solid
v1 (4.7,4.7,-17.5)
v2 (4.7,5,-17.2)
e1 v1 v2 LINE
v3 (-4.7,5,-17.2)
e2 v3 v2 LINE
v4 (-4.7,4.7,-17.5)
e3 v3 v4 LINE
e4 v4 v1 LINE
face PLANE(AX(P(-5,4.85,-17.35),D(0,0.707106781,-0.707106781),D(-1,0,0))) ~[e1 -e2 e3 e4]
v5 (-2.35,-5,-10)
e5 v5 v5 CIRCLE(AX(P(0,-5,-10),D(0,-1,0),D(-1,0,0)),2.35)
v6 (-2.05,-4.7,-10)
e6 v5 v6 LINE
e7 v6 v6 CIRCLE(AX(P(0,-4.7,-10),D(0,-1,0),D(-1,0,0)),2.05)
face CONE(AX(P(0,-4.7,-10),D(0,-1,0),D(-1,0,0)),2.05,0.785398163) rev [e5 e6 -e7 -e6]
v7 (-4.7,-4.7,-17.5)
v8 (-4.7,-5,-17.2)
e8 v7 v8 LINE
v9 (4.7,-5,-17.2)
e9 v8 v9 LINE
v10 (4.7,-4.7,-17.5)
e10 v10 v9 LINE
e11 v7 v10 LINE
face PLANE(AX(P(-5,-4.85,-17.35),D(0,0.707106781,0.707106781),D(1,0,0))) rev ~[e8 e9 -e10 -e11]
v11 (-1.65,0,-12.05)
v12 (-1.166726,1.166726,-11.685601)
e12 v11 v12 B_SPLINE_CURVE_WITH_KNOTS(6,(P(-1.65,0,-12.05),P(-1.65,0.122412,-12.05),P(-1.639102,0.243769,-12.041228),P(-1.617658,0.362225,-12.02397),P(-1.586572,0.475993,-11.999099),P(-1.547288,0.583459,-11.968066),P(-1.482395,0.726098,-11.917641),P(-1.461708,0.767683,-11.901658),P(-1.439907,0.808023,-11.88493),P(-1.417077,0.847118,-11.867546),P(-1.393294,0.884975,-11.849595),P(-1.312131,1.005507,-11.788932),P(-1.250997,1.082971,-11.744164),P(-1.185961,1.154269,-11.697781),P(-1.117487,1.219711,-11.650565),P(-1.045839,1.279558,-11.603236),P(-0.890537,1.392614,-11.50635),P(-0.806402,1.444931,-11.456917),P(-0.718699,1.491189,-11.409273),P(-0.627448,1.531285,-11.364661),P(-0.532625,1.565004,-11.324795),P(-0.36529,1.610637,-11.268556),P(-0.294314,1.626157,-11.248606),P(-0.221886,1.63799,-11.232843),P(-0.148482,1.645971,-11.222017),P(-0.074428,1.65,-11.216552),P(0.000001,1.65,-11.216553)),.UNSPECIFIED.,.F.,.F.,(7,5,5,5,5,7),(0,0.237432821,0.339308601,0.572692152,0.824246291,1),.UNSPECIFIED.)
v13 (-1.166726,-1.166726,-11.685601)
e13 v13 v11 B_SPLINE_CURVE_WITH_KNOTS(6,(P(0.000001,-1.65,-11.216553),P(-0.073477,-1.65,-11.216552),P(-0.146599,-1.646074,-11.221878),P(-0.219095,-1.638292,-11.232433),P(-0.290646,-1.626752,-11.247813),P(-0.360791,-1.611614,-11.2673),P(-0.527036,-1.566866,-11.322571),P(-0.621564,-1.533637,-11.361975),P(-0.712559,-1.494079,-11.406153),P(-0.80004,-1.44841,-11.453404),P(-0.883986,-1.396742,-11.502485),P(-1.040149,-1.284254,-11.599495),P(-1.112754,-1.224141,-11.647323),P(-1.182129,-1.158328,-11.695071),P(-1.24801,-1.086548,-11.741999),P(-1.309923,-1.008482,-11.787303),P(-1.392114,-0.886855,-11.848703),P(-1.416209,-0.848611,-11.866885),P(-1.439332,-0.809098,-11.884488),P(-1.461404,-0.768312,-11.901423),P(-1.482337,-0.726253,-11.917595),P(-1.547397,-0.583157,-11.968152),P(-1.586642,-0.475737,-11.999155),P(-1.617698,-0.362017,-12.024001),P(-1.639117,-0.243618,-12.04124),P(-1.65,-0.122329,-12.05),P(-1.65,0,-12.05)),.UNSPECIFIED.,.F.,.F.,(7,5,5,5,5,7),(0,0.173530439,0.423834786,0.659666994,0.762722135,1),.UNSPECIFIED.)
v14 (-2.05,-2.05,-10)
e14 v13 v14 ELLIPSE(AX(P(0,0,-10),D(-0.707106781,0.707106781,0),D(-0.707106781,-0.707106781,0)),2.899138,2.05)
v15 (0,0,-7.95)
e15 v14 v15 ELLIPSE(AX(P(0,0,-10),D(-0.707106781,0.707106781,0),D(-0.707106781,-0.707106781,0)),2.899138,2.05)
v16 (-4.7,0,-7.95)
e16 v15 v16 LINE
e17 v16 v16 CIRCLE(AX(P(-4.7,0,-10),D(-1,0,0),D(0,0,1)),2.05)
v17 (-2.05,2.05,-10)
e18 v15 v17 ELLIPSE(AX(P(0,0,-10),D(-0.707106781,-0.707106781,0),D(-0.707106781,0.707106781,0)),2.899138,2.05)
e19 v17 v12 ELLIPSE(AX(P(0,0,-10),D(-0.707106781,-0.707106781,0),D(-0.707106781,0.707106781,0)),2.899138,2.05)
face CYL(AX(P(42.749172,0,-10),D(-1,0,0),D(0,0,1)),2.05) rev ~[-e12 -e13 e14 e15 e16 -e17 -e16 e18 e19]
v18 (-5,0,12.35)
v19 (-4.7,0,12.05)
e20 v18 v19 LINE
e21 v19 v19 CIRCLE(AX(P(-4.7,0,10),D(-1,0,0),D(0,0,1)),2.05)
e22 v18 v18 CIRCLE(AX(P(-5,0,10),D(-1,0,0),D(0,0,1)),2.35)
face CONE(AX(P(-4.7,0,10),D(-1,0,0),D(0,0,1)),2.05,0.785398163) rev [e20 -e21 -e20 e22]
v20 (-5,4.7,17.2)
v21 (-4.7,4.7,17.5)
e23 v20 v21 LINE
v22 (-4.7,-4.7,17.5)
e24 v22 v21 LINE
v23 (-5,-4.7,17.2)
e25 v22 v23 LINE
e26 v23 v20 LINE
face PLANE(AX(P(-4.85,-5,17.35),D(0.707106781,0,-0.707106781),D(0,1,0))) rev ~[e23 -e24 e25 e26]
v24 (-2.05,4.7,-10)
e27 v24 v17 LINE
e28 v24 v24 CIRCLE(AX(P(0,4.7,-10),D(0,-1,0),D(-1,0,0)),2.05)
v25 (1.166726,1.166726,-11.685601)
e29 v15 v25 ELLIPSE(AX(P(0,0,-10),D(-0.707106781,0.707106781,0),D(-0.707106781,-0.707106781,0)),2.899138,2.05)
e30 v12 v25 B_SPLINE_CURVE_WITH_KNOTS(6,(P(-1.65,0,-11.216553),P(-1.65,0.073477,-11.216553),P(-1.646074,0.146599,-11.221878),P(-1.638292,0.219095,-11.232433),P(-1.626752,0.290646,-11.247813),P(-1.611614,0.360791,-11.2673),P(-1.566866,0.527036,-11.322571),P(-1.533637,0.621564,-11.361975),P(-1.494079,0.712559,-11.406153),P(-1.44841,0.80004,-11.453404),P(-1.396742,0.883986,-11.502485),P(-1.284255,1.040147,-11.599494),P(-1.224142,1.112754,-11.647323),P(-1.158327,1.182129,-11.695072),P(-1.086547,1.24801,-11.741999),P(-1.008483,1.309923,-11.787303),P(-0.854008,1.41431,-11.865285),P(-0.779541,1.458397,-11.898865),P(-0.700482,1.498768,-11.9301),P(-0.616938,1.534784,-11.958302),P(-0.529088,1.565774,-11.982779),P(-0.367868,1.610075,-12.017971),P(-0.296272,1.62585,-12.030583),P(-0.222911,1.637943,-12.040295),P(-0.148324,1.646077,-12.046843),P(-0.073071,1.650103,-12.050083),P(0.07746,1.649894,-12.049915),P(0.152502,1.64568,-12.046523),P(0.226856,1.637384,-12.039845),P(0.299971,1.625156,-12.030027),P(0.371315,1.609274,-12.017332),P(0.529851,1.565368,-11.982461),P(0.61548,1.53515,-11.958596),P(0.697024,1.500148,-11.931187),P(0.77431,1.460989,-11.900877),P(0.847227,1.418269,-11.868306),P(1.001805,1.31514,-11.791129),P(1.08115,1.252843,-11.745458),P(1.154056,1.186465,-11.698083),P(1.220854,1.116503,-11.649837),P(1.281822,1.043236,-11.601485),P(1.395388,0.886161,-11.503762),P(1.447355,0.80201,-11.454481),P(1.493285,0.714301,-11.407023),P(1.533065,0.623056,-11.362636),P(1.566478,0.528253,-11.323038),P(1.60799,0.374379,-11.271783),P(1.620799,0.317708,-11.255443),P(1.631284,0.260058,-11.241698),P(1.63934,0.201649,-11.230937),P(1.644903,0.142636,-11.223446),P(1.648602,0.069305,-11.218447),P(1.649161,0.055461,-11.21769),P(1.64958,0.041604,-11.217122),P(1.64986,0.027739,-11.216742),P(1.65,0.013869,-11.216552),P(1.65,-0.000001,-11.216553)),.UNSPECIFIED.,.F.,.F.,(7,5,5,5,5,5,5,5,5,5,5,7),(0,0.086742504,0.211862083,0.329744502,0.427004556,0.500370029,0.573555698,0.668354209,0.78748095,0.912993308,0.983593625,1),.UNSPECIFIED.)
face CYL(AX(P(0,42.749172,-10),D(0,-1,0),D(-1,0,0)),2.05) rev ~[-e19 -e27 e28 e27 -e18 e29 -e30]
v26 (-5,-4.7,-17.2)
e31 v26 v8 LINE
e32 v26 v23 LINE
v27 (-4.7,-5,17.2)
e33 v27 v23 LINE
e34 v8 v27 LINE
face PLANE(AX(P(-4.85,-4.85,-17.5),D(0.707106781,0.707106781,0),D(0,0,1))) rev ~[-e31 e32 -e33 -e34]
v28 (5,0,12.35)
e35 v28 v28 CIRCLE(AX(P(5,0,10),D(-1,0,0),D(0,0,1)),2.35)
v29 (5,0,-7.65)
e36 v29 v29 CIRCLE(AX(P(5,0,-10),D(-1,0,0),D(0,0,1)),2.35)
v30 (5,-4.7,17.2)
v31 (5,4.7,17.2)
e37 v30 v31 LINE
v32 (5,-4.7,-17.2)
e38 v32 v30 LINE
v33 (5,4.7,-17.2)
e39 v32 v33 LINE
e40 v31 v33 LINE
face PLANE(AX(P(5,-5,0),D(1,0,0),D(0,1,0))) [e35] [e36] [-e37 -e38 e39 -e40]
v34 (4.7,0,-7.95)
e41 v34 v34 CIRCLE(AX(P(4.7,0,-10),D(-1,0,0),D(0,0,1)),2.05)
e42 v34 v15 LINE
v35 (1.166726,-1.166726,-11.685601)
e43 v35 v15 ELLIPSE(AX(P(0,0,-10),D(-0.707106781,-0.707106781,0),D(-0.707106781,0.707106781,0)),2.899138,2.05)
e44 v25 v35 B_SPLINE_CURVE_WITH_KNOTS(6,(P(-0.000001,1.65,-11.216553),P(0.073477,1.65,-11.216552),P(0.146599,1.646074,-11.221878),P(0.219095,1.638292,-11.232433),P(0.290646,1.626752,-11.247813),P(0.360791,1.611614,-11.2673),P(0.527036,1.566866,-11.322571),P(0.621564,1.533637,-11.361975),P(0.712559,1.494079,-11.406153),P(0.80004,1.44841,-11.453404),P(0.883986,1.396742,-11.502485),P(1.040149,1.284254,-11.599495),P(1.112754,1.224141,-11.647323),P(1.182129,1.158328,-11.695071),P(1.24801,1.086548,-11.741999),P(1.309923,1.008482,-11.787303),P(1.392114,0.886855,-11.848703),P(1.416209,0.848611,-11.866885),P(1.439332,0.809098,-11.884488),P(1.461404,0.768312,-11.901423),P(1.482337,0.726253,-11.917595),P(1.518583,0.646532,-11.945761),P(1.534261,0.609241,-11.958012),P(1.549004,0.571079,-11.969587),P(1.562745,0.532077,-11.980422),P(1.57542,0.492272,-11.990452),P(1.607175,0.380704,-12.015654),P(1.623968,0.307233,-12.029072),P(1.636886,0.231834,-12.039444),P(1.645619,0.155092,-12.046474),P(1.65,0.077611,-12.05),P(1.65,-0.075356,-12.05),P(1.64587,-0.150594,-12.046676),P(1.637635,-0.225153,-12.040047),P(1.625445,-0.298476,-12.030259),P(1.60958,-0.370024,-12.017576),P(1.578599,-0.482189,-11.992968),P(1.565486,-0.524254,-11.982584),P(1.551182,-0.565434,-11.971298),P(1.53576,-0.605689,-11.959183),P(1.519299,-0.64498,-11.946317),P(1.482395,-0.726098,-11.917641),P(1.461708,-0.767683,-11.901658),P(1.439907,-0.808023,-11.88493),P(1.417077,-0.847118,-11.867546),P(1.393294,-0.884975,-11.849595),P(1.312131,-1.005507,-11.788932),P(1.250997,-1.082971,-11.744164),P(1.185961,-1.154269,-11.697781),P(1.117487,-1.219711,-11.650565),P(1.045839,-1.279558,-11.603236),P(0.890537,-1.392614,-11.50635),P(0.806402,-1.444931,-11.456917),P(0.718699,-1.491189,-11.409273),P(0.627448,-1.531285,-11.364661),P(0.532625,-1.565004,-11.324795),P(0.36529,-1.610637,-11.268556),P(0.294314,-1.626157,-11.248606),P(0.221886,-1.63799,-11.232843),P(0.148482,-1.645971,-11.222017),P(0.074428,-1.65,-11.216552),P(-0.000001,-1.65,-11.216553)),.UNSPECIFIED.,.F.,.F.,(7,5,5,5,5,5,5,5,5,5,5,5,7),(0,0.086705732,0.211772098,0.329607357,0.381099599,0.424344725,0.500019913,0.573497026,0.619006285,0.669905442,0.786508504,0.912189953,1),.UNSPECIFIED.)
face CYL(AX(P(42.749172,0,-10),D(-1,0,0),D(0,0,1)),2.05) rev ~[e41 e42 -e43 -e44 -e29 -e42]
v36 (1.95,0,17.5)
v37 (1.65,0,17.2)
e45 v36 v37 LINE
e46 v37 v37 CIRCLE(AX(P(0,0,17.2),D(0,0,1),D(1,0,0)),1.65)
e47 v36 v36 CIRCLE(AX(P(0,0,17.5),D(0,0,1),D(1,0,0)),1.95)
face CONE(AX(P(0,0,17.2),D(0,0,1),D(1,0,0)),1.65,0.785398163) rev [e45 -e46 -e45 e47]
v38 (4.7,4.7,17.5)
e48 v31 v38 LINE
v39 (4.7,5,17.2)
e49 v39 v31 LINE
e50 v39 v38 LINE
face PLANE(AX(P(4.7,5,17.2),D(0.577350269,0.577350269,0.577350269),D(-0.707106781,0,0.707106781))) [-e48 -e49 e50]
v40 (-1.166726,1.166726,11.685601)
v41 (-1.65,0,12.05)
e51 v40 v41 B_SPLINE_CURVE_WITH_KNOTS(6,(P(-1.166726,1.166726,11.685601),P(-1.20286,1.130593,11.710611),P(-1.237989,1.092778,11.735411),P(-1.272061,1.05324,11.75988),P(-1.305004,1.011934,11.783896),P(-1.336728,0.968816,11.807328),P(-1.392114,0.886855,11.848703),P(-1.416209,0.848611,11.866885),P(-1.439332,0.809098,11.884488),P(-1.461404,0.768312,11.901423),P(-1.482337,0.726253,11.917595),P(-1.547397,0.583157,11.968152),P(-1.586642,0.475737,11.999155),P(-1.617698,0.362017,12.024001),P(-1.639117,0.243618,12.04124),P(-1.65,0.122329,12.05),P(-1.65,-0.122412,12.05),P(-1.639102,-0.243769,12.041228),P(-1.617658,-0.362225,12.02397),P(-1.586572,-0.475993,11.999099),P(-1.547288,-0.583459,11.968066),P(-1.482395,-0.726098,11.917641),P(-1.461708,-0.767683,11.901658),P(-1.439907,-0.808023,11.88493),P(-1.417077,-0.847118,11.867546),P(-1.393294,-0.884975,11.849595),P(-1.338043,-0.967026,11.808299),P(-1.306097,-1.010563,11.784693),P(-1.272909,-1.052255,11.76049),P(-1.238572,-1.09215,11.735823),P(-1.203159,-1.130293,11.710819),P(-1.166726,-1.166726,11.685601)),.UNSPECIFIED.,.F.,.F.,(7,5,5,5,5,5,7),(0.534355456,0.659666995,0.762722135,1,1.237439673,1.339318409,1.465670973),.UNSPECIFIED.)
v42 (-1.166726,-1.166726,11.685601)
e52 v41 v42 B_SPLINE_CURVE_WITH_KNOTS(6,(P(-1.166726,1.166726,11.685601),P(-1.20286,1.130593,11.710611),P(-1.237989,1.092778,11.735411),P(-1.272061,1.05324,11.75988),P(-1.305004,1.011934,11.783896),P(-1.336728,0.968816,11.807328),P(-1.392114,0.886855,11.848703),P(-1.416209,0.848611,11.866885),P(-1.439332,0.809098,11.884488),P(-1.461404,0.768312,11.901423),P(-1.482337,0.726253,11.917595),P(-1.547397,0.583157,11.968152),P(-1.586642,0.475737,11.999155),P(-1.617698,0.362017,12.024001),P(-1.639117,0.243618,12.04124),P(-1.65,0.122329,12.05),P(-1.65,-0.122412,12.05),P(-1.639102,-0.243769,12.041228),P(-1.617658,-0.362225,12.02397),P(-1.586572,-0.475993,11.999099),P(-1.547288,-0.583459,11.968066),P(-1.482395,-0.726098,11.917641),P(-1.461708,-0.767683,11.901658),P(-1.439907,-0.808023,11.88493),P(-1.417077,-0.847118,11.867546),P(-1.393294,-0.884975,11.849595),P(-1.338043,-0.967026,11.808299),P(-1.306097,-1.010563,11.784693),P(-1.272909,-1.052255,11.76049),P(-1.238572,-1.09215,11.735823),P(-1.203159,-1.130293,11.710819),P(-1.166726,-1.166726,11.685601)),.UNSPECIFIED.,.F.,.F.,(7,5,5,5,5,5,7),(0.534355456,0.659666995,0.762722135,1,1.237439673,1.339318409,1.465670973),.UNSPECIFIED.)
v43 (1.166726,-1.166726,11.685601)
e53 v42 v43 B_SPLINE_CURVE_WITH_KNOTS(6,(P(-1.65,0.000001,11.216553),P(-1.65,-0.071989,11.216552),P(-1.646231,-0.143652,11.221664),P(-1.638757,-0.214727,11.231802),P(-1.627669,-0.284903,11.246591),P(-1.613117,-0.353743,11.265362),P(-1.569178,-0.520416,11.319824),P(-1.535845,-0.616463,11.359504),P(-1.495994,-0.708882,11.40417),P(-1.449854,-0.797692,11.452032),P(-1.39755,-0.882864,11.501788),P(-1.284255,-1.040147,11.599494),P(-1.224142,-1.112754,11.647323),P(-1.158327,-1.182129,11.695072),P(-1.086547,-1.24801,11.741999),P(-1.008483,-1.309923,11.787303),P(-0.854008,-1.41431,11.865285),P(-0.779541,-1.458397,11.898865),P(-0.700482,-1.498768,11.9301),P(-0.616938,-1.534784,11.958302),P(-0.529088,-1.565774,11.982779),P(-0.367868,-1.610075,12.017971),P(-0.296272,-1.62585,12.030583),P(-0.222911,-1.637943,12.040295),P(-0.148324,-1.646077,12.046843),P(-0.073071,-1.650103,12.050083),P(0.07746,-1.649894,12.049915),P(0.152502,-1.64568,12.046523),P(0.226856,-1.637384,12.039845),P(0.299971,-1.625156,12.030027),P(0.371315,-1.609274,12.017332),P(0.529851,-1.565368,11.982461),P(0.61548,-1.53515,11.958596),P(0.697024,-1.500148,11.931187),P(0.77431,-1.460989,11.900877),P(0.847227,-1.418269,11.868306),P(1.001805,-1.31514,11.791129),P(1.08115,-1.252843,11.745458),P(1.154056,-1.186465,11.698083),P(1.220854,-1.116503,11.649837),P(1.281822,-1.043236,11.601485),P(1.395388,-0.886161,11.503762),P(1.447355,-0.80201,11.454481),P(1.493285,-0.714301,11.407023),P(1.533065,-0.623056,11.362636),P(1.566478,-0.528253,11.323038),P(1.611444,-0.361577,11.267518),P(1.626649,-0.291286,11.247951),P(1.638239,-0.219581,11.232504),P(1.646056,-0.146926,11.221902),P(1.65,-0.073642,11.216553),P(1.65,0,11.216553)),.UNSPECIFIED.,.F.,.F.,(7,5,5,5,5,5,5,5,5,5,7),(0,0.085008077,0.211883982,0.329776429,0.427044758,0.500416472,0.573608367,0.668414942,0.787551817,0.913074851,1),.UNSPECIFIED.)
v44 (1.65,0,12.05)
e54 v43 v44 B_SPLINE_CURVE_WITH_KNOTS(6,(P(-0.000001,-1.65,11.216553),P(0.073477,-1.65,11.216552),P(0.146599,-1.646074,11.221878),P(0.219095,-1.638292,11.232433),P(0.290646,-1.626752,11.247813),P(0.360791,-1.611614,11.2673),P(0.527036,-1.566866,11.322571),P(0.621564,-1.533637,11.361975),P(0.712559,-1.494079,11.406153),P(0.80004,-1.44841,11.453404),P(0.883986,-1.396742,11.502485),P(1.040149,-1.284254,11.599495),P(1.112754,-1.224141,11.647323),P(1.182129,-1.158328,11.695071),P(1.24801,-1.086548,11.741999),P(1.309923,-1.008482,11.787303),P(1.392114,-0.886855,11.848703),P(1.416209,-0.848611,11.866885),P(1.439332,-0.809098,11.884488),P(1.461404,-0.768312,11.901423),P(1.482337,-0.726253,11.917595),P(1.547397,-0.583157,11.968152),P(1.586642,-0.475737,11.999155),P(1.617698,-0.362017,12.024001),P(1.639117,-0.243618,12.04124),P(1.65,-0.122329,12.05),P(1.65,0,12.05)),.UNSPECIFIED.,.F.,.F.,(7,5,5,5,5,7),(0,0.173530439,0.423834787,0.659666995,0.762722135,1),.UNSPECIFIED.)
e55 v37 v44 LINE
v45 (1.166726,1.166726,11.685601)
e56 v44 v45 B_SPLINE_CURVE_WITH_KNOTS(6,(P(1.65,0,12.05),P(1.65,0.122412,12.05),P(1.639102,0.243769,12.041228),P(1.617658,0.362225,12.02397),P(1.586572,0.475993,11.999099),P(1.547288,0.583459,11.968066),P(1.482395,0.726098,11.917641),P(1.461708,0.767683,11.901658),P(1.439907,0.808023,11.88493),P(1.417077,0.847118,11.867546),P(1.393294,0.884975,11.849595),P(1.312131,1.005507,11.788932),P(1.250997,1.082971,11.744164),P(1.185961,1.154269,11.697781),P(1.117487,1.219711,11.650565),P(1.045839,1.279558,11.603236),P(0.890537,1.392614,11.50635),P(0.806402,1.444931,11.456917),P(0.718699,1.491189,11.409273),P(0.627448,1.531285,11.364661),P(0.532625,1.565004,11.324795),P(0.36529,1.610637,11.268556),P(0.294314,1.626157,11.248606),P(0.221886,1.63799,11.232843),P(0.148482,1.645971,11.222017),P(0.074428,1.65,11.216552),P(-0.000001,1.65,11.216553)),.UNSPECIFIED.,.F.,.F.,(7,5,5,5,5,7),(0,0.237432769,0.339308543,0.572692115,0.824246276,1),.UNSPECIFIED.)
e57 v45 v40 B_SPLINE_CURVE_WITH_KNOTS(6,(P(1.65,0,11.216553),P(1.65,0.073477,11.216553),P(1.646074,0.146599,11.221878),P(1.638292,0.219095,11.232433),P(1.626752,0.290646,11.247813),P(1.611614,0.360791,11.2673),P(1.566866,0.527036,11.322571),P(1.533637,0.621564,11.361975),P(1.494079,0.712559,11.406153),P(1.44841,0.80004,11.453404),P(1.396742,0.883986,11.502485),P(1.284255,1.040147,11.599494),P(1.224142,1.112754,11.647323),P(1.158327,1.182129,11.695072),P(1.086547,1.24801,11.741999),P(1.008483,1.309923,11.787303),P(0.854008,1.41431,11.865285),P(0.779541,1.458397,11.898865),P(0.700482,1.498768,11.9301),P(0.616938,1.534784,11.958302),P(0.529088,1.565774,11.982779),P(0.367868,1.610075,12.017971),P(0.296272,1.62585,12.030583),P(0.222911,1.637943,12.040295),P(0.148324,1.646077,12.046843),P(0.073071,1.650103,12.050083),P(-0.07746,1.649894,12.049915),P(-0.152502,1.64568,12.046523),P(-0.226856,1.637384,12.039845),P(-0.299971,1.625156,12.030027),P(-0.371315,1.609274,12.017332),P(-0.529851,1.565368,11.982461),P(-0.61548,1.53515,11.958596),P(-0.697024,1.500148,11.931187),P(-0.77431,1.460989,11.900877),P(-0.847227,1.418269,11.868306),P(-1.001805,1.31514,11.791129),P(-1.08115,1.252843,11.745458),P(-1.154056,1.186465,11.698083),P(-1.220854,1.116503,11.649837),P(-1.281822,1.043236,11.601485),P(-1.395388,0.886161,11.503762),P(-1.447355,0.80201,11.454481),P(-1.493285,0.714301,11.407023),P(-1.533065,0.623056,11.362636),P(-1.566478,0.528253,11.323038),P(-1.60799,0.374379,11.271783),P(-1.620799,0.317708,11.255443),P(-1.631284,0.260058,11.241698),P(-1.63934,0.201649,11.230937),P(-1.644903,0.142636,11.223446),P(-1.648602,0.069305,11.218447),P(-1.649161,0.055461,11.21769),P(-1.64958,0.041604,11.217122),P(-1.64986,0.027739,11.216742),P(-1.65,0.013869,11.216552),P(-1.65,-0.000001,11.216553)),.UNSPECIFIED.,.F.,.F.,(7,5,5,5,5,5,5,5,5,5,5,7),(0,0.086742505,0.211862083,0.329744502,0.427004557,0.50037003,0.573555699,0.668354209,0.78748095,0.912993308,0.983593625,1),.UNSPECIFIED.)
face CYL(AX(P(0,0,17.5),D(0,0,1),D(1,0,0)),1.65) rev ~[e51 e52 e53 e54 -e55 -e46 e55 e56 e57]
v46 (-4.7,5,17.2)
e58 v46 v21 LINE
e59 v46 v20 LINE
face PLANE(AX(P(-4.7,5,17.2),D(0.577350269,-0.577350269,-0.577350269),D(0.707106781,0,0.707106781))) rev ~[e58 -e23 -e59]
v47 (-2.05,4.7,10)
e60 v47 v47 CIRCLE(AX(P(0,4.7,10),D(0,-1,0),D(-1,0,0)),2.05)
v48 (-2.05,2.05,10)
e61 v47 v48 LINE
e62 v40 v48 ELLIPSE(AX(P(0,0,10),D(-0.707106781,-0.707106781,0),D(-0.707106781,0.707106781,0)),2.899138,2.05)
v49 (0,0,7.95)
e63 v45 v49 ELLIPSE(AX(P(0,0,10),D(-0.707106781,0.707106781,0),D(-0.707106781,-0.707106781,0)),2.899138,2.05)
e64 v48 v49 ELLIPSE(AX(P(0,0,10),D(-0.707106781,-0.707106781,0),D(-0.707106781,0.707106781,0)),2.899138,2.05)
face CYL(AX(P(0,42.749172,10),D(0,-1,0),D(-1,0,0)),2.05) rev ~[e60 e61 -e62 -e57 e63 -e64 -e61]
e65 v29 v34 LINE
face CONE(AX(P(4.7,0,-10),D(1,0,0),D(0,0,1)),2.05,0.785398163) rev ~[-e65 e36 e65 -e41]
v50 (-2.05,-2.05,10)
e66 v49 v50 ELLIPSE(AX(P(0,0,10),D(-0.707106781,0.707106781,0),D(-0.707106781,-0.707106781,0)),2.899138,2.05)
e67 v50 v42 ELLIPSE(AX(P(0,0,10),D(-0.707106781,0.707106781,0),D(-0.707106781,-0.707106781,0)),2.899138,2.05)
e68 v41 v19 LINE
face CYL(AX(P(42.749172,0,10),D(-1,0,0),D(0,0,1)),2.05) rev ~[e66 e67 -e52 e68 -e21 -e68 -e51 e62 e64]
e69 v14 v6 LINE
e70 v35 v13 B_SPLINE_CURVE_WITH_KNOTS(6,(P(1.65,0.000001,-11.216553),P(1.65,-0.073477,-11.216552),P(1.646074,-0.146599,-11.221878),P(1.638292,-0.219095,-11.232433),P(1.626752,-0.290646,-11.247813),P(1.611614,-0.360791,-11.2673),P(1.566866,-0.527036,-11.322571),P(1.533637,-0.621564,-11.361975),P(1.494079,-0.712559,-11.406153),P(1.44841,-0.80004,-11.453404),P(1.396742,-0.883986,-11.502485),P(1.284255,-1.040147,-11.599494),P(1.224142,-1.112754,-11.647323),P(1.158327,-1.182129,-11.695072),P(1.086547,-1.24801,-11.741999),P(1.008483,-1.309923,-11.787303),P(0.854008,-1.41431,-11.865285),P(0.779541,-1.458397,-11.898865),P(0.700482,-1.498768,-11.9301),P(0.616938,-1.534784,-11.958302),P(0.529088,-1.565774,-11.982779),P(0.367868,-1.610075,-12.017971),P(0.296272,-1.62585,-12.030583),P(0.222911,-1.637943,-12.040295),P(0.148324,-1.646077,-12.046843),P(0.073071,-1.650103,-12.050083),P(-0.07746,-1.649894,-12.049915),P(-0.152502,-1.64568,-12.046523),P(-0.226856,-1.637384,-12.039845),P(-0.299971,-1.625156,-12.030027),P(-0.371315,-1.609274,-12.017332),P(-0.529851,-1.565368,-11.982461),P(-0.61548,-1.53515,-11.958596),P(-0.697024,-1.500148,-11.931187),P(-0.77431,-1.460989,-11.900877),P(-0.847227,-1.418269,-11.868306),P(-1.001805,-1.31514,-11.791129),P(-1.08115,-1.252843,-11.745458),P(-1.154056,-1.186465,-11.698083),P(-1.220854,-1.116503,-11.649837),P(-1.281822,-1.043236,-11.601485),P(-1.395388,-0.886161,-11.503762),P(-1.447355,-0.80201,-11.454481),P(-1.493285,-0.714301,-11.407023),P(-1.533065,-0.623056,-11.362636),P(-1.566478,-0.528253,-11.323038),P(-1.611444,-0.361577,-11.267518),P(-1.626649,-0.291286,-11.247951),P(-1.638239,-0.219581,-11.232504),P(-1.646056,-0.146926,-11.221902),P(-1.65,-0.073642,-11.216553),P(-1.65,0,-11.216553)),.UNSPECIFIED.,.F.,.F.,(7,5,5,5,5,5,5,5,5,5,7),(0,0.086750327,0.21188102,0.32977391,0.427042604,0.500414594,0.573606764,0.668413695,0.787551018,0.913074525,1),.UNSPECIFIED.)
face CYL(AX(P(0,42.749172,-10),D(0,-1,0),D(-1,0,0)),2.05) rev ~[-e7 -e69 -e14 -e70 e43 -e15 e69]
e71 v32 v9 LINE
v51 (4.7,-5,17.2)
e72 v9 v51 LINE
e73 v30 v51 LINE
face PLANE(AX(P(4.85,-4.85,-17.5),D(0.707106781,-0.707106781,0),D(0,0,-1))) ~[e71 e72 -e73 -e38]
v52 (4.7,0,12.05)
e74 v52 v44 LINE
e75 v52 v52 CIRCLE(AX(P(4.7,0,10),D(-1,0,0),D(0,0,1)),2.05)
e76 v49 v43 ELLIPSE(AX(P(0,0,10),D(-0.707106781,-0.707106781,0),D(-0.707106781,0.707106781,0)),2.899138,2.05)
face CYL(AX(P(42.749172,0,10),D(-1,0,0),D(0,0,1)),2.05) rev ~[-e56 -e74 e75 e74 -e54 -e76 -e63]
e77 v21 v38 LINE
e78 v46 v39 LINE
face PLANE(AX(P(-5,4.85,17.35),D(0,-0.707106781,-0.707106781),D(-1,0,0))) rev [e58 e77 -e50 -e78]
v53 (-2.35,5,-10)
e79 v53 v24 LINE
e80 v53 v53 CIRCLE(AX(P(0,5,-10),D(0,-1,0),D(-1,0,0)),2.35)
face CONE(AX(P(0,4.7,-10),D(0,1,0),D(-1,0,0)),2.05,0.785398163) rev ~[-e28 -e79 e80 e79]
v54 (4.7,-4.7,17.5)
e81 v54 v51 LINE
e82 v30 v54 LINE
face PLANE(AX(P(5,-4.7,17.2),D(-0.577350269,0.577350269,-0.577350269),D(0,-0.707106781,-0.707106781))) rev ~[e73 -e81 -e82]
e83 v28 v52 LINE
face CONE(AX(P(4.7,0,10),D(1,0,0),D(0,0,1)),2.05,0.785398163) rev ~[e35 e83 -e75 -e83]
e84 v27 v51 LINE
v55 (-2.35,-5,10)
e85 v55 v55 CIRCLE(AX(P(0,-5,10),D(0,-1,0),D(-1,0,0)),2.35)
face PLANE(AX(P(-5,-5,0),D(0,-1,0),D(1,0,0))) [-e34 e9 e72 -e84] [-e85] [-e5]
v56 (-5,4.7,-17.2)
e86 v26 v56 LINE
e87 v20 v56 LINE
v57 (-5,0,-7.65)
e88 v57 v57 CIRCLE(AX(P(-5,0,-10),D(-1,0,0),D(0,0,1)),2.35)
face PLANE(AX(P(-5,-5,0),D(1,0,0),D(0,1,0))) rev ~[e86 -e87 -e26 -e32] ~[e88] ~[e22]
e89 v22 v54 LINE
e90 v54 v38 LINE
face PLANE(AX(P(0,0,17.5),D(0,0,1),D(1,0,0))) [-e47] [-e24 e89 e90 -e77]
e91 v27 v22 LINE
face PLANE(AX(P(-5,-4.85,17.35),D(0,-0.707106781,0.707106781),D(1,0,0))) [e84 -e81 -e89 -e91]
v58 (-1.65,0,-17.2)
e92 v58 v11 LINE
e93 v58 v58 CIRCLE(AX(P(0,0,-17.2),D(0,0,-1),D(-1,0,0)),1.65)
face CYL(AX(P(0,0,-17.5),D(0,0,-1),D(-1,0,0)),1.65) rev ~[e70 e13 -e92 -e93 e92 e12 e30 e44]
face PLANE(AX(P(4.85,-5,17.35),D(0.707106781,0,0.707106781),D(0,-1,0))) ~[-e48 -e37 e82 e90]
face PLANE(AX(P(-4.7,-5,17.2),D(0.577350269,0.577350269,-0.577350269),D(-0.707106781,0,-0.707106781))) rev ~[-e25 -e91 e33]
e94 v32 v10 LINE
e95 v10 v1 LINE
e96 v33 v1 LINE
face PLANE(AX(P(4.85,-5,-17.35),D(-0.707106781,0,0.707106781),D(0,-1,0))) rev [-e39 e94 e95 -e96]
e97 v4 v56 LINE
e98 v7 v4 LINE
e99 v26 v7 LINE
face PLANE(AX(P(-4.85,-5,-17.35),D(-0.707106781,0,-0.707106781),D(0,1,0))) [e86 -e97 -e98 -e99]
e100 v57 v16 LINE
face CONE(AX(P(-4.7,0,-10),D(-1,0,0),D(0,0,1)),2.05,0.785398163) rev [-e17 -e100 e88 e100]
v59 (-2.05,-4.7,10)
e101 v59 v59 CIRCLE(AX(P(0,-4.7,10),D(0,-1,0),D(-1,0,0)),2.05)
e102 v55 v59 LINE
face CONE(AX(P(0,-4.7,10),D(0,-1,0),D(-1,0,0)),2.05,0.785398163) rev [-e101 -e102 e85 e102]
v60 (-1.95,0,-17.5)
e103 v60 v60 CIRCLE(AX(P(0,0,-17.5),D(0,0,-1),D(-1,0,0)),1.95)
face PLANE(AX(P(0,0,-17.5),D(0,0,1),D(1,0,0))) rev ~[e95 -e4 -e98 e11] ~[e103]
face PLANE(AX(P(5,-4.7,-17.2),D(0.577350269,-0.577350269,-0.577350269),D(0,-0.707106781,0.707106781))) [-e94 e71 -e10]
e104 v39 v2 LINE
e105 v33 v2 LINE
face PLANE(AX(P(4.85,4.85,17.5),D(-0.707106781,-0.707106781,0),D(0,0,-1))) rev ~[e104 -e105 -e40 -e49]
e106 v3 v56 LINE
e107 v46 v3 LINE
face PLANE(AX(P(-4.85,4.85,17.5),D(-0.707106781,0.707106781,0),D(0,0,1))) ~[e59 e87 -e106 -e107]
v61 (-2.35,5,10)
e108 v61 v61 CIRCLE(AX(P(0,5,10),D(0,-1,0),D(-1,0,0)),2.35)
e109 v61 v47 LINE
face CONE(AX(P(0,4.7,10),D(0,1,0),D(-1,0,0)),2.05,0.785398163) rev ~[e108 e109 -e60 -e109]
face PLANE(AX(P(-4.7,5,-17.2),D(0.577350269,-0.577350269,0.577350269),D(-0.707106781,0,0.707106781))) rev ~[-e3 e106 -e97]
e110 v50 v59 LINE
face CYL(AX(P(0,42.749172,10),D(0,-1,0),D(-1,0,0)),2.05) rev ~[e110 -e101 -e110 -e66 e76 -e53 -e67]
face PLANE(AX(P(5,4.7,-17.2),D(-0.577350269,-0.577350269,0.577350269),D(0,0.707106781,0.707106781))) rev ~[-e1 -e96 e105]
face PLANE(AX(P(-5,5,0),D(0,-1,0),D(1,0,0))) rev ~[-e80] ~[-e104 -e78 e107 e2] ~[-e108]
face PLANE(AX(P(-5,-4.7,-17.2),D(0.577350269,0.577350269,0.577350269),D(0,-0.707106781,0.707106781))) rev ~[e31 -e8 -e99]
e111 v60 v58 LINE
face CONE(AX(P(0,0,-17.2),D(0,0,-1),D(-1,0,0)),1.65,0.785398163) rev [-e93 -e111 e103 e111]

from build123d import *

# Parameters (mm, degrees)
SKETCH_1_W              = 10
SKETCH_1_H              = 10
EXTRUDE_1_DEPTH         = 17.5
HOLE_WIZARD_4_1_4_1_1_D = 4.1
HOLE_WIZARD_4_1_4_1_2_D = 4.1
HOLE_WIZARD_M4_1_REACH  = 37.707
HOLE_WIZARD_M4_1_BORE_R = 1.65
HOLE_WIZARD_M4_2_REACH  = 37.707
HOLE_WIZARD_M4_2_BORE_R = 1.65
CHAMFER_1_SIZE          = 0.3


with BuildPart() as part:
    # 草图1 → 凸台-拉伸1 (new, symmetric)
    with BuildSketch(Plane.XY):
        Rectangle(SKETCH_1_W, SKETCH_1_H)
    extrude(amount=EXTRUDE_1_DEPTH, both=True)

    # Ø4.1 (4.1) 直径孔1 (through all)
    with Locations(Plane(origin=(5, 0, 0), x_dir=(0, 0, -1), z_dir=(1, 0, 0))):
        with Locations((-10, 0), (10, 0)):
            Hole(HOLE_WIZARD_4_1_4_1_1_D / 2)

    # Ø4.1 (4.1) 直径孔2 (through all)
    with Locations(Plane(origin=(0, 5, 0), x_dir=(1, 0, 0), z_dir=(0, 1, 0))):
        with Locations((0, -10), (0, 10)):
            Hole(HOLE_WIZARD_4_1_4_1_2_D / 2)

    # M4 螺纹孔1 bore → M4 螺纹孔1 (cut, up to next)
    with BuildSketch(Plane.XY.offset(17.5), mode=Mode.PRIVATE) as hole_wizard_m4_1_sk1:
        Circle(HOLE_WIZARD_M4_1_BORE_R)
    hole_wizard_m4_1_tool1 = extrude(hole_wizard_m4_1_sk1.sketch, amount=-HOLE_WIZARD_M4_1_REACH, mode=Mode.PRIVATE) & part.part
    add(hole_wizard_m4_1_tool1.solids().sort_by_distance((0, 0, 17.5))[0], mode=Mode.SUBTRACT)

    # M4 螺纹孔2 bore → M4 螺纹孔2 (cut, up to next)
    with BuildSketch(Plane(origin=(0, 0, -17.5), x_dir=(-1, 0, 0), z_dir=(0, 0, -1)), mode=Mode.PRIVATE) as hole_wizard_m4_2_sk1:
        Circle(HOLE_WIZARD_M4_2_BORE_R)
    hole_wizard_m4_2_tool1 = extrude(hole_wizard_m4_2_sk1.sketch, amount=-HOLE_WIZARD_M4_2_REACH, mode=Mode.PRIVATE) & part.part
    add(hole_wizard_m4_2_tool1.solids().sort_by_distance((0, 0, -17.5))[0], mode=Mode.SUBTRACT)

    # 倒角1
    chamfer_1_edges = [part.edges().sort_by_distance(p)[0] for p in [
        (-5, 0, 17.5),
        (5, 0, -12.05),
        (-5, 0, -12.05),
        (0, -5, 17.5),
        (5, 0, 7.95),
        (-5, 0, 7.95),
        (2.05, -5, -10),
        (2.05, 5, -10),
        (2.05, -5, 10),
        (2.05, 5, 10),
        (5, 0, 17.5),
        (0, -5, -17.5),
        (-5, 0, -17.5),
        (-1.65, 0, 17.5),
        (0, 5, -17.5),
        (5, 0, -17.5),
        (1.65, 0, -17.5),
        (5, -5, 0),
        (-5, -5, 0),
        (-5, 5, 0),
        (5, 5, 0),
        (0, 5, 17.5),
    ]]
    chamfer(chamfer_1_edges, length=CHAMFER_1_SIZE)


solid = part.part
